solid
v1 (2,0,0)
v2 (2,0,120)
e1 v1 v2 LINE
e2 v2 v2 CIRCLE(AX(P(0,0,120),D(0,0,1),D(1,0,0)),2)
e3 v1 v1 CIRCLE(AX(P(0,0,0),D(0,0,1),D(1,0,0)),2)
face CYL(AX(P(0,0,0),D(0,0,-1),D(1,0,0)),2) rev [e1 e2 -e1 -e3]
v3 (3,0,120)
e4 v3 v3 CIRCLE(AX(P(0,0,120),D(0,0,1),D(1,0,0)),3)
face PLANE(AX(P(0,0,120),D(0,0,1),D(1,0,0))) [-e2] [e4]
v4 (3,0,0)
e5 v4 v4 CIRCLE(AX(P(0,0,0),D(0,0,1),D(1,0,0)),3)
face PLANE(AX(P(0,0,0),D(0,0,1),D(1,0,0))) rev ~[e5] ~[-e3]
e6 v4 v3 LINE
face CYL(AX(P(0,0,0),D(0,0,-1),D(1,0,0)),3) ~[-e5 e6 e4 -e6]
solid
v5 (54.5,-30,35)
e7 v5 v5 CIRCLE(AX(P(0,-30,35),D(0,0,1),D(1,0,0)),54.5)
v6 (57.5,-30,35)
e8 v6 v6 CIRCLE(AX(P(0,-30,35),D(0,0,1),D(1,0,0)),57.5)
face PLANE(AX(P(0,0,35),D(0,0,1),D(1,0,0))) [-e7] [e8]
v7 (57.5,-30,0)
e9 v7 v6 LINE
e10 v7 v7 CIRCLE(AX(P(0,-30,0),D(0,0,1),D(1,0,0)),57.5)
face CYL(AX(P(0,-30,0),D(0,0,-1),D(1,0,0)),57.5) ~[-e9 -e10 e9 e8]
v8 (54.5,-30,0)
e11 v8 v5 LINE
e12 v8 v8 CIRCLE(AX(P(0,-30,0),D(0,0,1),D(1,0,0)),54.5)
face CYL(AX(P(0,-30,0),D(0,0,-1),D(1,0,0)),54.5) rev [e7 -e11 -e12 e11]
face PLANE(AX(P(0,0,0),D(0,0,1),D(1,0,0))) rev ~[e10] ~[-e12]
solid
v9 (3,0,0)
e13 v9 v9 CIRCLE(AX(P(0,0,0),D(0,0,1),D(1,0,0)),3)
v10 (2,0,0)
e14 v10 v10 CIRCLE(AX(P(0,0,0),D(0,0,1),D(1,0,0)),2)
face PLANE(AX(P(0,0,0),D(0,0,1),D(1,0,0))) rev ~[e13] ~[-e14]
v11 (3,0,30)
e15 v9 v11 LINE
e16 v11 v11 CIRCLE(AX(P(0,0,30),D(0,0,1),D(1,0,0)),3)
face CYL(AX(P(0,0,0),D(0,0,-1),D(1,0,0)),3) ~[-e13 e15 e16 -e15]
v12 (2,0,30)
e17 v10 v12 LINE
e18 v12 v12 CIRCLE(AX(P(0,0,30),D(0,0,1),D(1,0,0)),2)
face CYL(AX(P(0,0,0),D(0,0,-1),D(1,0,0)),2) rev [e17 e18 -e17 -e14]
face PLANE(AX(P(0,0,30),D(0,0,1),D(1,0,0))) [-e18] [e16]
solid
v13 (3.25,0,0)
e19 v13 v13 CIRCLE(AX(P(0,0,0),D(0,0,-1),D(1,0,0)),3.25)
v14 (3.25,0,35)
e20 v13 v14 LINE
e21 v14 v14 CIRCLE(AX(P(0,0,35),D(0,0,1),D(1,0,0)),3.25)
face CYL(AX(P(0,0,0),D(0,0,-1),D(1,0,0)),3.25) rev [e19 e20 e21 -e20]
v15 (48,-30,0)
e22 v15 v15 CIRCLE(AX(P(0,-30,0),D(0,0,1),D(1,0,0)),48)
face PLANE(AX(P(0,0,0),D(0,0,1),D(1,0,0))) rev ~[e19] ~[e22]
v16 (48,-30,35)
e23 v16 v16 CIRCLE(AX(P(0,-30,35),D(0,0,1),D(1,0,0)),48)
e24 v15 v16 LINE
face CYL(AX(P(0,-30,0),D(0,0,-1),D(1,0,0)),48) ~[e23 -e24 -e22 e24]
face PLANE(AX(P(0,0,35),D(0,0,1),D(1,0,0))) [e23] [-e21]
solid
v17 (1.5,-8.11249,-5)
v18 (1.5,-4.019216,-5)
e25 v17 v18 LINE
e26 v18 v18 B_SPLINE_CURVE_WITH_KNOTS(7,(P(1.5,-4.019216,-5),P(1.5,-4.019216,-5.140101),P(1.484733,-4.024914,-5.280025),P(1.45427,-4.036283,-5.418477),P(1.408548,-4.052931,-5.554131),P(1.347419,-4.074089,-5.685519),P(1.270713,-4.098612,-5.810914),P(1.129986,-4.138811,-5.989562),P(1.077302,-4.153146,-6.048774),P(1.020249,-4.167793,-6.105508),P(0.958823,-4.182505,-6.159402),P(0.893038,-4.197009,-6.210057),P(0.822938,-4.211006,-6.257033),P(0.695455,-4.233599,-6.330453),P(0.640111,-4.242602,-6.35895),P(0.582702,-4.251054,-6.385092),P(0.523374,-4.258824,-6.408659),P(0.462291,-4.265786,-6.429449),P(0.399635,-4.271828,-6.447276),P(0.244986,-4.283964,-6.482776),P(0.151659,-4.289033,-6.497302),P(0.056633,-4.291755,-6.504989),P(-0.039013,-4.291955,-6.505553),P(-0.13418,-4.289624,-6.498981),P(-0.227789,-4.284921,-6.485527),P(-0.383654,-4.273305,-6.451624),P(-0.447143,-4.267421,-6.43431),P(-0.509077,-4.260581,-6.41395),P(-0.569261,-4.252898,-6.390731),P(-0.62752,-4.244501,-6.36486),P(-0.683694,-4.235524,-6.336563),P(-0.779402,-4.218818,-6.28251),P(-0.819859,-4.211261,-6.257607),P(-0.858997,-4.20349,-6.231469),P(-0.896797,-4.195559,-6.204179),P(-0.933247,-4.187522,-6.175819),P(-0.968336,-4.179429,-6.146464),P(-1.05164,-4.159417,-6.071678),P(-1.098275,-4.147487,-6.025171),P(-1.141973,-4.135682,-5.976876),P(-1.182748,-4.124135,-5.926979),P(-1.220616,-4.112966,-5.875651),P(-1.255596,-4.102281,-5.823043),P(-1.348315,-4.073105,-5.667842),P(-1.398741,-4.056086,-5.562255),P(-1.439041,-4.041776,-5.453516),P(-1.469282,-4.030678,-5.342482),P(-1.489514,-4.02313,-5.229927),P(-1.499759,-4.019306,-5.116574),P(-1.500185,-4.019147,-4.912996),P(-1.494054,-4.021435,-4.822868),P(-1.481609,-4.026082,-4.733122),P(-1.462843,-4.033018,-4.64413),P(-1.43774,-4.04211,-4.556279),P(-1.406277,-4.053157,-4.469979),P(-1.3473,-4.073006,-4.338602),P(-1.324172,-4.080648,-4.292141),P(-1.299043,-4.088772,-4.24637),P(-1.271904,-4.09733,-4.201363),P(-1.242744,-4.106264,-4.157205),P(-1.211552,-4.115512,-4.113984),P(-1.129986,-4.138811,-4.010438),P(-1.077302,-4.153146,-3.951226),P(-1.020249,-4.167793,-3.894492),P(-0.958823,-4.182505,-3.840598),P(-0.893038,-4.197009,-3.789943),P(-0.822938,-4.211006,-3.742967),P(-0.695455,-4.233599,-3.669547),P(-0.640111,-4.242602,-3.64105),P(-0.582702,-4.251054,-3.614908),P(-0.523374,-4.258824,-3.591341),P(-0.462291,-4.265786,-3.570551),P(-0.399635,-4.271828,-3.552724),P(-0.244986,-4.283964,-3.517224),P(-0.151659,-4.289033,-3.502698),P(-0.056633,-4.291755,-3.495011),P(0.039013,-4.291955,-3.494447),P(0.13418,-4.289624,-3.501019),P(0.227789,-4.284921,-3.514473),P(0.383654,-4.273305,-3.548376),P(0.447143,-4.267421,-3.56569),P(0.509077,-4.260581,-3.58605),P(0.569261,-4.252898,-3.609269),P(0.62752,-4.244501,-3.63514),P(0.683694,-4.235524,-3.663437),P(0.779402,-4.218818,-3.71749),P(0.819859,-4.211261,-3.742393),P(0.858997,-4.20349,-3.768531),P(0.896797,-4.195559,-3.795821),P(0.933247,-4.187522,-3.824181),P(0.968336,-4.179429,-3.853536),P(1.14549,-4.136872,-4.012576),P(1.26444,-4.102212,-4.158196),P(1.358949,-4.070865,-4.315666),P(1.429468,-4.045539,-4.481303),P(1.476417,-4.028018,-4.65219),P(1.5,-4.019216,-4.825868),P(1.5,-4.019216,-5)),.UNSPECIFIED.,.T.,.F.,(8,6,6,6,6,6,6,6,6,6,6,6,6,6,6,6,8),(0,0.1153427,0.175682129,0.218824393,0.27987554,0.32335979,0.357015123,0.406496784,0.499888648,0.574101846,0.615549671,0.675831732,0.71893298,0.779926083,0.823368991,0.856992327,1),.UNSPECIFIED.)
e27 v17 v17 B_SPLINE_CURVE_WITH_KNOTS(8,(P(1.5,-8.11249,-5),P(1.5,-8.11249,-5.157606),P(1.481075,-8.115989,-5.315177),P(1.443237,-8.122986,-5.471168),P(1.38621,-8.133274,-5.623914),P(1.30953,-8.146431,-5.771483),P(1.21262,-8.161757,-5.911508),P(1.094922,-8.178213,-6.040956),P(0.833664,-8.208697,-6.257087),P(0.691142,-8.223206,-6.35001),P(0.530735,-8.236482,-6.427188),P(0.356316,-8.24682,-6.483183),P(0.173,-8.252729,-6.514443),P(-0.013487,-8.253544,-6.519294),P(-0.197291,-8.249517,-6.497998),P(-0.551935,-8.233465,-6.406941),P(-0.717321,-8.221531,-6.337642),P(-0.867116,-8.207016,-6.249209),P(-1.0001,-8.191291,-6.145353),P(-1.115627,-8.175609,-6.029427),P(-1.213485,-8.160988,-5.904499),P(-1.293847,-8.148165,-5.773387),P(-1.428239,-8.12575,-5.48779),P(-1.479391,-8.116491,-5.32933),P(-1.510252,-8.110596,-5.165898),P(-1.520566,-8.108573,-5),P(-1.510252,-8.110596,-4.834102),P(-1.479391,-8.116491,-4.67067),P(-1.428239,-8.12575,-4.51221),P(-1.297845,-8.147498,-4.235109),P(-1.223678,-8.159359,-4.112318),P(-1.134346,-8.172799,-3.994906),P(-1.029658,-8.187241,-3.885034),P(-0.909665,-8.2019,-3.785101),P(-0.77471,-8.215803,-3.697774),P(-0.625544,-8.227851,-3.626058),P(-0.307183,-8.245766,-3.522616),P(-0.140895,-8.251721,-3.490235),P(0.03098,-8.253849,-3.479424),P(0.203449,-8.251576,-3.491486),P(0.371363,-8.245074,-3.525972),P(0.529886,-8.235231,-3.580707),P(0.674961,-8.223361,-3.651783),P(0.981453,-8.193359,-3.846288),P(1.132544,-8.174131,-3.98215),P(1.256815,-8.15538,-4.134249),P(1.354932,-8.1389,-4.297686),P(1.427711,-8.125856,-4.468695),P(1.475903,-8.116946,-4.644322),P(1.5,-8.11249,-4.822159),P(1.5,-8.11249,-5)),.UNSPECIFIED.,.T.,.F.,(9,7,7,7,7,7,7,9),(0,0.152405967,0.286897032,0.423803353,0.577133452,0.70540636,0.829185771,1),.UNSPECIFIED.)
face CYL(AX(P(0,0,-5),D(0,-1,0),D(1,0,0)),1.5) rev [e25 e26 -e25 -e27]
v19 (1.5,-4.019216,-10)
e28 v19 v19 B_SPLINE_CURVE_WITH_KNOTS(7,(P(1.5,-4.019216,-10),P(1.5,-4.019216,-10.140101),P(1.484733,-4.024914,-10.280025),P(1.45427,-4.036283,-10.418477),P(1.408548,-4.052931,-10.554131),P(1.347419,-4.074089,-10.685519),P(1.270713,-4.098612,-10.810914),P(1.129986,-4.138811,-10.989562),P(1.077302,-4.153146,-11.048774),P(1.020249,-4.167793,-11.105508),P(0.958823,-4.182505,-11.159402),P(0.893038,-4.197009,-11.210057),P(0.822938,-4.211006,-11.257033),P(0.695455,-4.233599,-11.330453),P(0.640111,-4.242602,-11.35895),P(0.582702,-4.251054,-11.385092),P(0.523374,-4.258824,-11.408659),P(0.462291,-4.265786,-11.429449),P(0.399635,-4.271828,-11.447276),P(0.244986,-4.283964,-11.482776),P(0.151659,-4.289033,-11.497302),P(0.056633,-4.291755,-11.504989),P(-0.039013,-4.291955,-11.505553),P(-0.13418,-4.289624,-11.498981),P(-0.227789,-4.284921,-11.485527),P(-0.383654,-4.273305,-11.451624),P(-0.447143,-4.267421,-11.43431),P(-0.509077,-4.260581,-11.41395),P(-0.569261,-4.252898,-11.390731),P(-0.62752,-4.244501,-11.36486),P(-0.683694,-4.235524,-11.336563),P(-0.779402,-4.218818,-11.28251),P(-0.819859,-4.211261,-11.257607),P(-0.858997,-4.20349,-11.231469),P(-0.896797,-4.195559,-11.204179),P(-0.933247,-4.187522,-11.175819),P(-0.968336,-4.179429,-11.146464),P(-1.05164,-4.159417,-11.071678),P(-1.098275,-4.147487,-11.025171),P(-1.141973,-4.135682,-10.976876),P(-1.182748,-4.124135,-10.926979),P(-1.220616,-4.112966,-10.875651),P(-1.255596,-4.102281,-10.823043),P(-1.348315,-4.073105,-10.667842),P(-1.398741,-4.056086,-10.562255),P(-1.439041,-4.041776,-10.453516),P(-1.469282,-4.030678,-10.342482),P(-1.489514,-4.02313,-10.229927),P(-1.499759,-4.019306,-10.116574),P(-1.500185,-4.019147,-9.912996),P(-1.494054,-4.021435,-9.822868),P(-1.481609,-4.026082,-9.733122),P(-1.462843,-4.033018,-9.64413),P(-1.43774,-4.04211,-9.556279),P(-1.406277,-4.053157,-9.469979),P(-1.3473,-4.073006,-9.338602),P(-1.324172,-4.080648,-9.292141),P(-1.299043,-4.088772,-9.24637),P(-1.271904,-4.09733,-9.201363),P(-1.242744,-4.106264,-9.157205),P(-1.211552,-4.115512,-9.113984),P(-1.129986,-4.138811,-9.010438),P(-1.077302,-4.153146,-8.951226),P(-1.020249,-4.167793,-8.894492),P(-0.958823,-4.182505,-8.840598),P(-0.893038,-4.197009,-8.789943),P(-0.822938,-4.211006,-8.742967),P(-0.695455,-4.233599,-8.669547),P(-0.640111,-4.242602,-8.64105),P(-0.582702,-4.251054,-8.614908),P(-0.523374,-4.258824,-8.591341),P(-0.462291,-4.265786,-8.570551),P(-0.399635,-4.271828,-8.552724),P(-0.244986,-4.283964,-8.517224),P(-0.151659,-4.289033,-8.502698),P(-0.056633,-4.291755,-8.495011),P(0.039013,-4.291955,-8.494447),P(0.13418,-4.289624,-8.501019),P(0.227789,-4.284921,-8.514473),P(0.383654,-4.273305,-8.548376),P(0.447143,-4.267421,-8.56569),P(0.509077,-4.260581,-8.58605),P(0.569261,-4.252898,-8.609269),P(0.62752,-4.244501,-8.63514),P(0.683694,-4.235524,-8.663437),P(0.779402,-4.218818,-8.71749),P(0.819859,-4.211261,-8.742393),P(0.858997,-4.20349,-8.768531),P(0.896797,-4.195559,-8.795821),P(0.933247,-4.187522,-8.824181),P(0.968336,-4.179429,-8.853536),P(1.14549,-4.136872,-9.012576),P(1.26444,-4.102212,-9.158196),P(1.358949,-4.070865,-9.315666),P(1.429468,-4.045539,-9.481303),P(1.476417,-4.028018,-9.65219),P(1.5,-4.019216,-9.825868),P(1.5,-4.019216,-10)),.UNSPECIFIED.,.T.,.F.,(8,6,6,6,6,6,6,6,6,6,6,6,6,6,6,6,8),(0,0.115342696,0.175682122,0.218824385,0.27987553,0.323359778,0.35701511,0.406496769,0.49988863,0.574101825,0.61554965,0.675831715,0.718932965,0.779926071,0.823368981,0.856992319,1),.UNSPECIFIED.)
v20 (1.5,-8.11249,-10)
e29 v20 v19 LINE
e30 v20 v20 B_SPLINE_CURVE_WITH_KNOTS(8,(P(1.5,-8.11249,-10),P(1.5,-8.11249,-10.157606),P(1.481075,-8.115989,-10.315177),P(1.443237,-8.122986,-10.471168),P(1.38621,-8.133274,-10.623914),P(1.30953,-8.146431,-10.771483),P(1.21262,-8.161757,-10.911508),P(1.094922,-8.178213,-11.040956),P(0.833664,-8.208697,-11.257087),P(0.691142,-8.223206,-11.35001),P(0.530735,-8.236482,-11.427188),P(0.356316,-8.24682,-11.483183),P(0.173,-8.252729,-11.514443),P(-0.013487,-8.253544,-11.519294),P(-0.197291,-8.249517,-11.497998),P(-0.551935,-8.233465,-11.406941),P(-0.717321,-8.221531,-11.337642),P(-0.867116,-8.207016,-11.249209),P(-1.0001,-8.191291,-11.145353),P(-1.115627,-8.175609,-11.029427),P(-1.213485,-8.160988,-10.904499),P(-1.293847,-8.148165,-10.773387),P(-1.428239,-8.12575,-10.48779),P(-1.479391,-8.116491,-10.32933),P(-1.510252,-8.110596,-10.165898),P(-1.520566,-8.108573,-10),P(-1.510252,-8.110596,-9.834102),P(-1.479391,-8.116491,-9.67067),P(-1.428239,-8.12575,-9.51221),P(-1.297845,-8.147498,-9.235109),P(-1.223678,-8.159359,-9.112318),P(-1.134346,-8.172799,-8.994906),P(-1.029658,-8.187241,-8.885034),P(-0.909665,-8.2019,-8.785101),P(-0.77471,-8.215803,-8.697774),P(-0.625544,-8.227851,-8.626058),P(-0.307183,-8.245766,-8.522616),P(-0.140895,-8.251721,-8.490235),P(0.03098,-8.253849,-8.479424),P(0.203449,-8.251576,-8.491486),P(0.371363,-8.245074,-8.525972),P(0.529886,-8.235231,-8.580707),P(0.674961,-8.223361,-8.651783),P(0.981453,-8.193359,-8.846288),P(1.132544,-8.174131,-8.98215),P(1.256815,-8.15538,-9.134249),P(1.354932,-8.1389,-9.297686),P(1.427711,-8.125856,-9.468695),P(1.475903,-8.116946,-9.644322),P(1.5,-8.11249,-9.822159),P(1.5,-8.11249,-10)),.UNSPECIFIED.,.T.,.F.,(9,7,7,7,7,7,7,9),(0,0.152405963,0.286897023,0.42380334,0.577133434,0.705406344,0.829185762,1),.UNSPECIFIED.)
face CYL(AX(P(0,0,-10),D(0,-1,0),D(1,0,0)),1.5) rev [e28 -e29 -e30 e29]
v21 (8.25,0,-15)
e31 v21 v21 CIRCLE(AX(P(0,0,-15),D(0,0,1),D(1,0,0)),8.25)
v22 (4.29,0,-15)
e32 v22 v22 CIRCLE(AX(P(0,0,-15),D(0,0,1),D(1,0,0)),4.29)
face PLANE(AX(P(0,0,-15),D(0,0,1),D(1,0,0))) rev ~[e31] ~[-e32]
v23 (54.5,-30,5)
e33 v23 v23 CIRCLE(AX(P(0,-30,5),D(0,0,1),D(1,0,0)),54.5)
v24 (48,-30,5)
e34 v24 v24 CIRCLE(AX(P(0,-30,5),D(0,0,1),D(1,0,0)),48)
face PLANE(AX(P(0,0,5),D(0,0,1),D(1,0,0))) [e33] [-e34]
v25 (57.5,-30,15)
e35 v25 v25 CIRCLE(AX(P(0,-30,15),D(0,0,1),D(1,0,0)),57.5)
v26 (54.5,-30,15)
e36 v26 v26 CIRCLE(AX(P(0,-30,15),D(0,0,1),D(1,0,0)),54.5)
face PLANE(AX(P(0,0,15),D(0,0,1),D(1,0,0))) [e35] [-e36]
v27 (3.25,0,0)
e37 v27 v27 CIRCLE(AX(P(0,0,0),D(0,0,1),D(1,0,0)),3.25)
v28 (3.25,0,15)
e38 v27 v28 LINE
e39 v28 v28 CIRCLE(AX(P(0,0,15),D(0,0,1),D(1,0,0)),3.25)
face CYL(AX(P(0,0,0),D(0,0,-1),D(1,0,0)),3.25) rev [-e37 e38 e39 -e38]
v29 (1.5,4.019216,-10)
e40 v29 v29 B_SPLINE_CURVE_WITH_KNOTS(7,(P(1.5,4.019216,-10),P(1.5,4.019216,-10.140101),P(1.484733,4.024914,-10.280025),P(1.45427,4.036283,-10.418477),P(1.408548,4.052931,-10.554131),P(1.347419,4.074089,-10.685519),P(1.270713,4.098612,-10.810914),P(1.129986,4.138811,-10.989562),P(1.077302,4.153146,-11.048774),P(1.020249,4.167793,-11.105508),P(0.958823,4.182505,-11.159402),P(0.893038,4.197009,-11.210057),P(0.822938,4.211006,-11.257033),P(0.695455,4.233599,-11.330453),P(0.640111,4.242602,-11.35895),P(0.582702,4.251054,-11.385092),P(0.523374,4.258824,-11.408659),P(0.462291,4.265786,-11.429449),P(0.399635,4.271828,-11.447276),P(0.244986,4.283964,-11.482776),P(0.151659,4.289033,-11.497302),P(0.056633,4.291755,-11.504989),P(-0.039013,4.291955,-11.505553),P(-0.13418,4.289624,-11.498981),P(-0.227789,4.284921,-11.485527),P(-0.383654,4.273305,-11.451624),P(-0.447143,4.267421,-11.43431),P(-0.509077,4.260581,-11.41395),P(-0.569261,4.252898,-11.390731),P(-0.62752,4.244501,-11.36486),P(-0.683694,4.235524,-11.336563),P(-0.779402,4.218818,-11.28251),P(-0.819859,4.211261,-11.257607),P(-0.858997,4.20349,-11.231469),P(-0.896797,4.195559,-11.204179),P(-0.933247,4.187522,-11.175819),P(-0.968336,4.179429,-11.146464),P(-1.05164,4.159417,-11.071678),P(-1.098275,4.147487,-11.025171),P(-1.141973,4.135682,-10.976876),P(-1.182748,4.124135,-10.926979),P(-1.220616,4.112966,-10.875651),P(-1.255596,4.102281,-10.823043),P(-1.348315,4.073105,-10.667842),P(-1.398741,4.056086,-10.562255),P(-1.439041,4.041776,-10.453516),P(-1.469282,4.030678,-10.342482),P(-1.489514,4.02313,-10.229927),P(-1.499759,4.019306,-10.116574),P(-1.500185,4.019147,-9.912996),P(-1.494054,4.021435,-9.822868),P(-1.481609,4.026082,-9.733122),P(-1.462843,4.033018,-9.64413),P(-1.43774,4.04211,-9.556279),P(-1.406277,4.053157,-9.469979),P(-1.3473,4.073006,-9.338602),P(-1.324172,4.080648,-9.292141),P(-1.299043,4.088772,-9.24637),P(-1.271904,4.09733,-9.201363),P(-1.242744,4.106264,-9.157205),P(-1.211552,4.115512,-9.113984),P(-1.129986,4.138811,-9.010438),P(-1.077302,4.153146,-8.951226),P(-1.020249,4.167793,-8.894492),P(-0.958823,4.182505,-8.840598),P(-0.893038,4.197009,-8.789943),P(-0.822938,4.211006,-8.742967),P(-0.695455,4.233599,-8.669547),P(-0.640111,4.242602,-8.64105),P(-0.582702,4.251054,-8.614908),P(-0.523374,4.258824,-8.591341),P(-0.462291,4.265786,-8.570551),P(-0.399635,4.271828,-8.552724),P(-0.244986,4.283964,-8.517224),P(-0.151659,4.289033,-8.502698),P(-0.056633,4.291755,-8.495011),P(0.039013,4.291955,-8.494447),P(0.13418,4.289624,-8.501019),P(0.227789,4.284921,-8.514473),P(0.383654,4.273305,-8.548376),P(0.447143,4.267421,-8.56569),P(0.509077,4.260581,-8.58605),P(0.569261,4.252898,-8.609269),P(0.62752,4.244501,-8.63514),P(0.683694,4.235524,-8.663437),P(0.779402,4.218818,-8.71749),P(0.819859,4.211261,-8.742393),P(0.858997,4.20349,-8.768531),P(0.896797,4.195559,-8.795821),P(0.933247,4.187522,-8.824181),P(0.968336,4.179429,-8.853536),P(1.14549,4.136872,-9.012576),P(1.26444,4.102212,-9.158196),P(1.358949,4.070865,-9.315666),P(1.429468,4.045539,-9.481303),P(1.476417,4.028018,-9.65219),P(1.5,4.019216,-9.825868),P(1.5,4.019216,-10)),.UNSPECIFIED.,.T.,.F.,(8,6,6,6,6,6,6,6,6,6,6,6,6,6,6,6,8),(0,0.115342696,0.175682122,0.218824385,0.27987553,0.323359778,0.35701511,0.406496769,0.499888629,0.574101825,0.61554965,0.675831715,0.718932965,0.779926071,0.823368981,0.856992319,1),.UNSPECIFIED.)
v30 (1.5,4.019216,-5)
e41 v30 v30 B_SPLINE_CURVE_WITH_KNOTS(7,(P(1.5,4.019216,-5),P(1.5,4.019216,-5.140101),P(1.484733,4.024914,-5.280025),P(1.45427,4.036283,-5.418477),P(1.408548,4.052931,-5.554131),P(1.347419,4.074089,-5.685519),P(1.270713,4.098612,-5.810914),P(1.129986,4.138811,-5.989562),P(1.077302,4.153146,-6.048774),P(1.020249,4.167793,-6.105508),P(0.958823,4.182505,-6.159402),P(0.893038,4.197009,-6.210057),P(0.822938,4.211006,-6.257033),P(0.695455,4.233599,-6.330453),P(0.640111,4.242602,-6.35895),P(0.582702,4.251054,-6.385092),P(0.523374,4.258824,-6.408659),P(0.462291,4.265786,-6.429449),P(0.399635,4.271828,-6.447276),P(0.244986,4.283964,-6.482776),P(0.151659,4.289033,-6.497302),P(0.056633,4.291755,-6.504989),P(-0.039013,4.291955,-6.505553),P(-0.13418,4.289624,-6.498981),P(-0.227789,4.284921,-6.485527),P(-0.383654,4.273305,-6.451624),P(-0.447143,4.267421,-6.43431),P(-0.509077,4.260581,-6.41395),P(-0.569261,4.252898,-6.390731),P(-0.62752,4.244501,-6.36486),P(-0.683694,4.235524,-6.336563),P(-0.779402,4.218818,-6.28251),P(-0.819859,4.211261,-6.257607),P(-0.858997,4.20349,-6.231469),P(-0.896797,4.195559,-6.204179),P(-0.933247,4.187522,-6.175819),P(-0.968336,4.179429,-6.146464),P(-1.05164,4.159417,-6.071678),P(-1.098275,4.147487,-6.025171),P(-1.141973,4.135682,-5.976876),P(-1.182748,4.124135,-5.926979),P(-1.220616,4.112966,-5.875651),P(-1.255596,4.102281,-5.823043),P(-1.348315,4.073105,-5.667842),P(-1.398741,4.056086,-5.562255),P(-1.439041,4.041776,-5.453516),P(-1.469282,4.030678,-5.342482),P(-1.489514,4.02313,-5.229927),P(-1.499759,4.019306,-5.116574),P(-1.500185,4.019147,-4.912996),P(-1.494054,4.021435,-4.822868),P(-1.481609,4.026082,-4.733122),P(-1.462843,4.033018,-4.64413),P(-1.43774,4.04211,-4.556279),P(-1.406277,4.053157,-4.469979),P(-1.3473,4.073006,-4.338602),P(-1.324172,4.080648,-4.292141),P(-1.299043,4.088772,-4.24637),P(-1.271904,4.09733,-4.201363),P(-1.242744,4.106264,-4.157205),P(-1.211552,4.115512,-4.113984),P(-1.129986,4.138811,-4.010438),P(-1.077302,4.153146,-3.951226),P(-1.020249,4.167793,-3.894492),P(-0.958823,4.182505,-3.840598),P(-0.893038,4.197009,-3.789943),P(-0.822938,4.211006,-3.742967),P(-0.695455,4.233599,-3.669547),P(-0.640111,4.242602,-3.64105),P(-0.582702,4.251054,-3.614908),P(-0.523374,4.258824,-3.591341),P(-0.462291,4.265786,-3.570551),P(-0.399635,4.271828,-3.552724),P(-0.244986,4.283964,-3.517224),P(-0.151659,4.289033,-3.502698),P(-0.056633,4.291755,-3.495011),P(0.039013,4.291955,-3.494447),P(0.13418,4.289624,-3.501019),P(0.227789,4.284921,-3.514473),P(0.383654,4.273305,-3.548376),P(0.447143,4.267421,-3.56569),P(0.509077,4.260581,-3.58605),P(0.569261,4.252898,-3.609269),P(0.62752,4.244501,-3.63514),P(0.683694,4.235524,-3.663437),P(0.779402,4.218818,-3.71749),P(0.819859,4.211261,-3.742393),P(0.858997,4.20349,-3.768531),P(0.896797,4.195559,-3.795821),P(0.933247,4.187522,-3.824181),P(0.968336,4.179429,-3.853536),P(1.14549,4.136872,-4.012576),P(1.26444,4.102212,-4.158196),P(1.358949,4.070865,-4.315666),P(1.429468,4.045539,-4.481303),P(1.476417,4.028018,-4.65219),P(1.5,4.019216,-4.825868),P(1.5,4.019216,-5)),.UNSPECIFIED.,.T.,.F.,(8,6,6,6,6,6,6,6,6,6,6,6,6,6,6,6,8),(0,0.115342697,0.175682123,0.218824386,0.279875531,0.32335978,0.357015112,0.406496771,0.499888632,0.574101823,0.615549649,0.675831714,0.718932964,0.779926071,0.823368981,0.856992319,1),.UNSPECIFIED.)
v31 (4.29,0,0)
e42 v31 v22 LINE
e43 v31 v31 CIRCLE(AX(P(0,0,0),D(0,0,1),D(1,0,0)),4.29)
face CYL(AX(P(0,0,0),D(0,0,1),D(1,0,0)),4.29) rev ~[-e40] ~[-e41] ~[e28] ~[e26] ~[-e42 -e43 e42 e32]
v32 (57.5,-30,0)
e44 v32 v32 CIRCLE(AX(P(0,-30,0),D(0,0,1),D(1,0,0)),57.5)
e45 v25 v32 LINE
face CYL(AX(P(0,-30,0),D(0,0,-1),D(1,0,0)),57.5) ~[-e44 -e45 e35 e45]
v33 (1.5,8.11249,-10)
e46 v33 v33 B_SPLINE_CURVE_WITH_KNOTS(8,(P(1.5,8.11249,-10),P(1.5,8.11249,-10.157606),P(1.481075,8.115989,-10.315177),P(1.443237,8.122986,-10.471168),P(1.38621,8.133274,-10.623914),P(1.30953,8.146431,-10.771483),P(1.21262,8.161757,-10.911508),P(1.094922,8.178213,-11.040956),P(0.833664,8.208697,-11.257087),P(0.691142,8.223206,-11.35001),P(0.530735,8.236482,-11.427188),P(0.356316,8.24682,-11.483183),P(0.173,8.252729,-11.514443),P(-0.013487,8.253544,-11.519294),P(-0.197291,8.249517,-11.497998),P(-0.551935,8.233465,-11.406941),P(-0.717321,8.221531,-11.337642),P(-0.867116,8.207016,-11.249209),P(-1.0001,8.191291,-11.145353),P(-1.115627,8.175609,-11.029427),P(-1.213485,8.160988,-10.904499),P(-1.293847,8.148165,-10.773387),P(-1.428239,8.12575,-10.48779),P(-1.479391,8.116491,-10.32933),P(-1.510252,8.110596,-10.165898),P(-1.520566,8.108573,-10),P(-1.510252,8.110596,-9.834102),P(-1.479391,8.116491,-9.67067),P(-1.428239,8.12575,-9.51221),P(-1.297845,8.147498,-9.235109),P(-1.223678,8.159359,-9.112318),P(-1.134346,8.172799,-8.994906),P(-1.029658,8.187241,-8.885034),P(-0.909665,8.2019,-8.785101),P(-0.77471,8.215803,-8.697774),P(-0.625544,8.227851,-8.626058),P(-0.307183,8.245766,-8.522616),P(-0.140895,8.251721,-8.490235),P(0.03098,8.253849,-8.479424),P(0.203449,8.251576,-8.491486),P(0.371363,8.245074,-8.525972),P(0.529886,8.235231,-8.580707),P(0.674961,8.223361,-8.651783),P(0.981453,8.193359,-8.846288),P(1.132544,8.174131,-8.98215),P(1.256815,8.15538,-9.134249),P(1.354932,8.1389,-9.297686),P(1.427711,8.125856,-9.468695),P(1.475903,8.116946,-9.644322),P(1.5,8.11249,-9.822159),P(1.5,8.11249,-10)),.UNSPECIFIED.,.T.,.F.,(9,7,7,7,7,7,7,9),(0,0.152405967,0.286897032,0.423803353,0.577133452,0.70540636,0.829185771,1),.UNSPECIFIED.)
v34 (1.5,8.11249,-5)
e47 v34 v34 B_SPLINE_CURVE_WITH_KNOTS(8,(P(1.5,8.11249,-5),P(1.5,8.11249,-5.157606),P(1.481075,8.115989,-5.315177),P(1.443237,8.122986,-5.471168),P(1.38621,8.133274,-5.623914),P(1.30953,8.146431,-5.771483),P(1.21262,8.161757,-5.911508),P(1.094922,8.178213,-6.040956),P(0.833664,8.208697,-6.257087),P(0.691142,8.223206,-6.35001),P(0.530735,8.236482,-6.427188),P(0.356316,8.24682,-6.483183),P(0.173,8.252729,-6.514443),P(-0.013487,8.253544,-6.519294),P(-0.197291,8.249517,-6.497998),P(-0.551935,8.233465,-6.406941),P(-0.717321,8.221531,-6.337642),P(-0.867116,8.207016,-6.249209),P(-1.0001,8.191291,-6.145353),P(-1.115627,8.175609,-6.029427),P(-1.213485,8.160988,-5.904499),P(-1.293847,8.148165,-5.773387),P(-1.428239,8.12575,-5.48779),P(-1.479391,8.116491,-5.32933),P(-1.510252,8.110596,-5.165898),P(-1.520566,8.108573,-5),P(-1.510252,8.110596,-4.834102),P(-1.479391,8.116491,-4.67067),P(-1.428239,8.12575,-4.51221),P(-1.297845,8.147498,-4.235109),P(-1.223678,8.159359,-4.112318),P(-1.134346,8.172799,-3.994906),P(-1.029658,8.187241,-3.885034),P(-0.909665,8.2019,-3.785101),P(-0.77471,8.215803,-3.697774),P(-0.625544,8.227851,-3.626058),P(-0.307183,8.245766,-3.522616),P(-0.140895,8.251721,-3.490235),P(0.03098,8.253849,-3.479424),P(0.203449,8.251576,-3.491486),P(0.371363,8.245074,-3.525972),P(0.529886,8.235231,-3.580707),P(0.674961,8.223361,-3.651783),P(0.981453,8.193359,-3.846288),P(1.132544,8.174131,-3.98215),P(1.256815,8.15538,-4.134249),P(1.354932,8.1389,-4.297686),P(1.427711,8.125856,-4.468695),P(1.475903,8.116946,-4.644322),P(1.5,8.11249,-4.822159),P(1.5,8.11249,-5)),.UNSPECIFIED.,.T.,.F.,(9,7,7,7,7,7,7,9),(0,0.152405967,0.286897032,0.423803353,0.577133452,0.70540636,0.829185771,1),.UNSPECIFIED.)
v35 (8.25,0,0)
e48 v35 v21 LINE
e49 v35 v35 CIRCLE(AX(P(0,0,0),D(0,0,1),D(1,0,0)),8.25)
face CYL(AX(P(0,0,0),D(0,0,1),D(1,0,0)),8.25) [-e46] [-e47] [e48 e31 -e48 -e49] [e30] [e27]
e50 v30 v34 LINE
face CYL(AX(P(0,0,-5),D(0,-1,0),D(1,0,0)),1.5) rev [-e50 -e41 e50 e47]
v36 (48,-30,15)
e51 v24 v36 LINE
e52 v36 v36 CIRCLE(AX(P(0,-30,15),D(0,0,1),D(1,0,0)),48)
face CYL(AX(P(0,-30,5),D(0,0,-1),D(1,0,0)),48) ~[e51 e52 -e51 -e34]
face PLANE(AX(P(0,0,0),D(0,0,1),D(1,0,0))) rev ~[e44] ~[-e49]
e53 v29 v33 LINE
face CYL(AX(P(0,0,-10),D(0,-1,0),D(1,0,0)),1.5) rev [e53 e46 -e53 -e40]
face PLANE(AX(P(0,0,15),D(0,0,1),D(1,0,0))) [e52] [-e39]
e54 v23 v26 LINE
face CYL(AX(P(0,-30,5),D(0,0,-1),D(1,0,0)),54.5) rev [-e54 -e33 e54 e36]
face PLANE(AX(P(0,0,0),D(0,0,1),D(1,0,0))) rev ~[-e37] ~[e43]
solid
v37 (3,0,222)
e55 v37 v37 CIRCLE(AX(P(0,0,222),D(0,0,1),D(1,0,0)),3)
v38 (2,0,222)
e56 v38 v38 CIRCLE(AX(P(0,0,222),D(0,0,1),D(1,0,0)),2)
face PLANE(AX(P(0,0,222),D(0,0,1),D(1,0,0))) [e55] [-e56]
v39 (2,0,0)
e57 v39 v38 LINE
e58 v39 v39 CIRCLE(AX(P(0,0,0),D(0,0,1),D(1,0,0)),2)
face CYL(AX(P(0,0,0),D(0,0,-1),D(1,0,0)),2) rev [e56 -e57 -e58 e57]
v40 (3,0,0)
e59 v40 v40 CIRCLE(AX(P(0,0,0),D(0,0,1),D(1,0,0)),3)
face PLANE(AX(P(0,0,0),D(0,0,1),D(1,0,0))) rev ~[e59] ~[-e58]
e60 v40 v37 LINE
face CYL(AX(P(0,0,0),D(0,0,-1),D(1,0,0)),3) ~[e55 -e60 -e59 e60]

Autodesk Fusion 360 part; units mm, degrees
sketch "Aluminum 4mm-6mm" plane through (0, 0, 0) normal (0, 0, 1) x (1, 0, 0)
  circle A0 centre (0, 0) radius 2
  circle A1 centre (0, 0) radius 3
  dimension "d1" = 4
  dimension "d2" = 6
extrude "Extrude1" add sketch "Aluminum 4mm-6mm" along normal blind 190 makes body 1
copy_body "Body->Comp1" bodies 1 removing the originals makes body 2 in component "190mm aluminum 4-6 bar"
extrude "Extrude2" add sketch "Aluminum 4mm-6mm" along normal blind 250 separate body makes body 3
copy_body "Body->Comp2" bodies 3 removing the originals makes body 4 in component "250mm aluminum 4-6 bar"
extrude "Extrude3" add sketch "Aluminum 4mm-6mm" along normal blind 120 separate body makes body 5
copy_body "Body->Comp3" bodies 5 removing the originals makes body 6 in component "120mm aluminum 4-6 bar"
extrude "Extrude4" add sketch "Aluminum 4mm-6mm" along normal blind 222 separate body makes body 7
copy_body "Body->Comp4" bodies 7 removing the originals makes body 8 in component "220mm aluminum 4-6 bar"
extrude "Extrude5" add sketch "Aluminum 4mm-6mm" along normal blind 30 separate body makes body 9
copy_body "Body->Comp5" bodies 9 removing the originals makes body 10 in component "30mm aluminum 4-6 bar"
component "190mm aluminum 4-6 bar" placed x (1, 0, 0) y (0, 1, 0) z (0, 0, 1) at (0, 0, 0)
component "250mm aluminum 4-6 bar" placed x (1, 0, 0) y (0, 1, 0) z (0, 0, 1) at (0, 0, 0)
component "120mm aluminum 4-6 bar" placed x (1, 0, 0) y (0, 1, 0) z (0, 0, 1) at (0, 0, 0)
component "220mm aluminum 4-6 bar" placed x (1, 0, 0) y (0, 1, 0) z (0, 0, 1) at (0, 0, 0)
component "30mm aluminum 4-6 bar" placed x (1, 0, 0) y (0, 1, 0) z (0, 0, 1) at (0, 0, 0)
equation "d13 = 180 mm + ( ( 5 + 5 + 3 + 8 ) * 2 ) * 1 mm"

Autodesk Fusion 360 part; units mm, degrees
sketch "Sketch1" plane through (0, 0, 0) normal (0, 0, 1) x (1, 0, 0)
  line L0 (90, -40) -> (-90, -40)
  line L1 (-90, -40) -> (-90, 40)
  line L2 (-90, 40) -> (90, 40)
  line L3 (90, 40) -> (90, -40)
  line L4 (90, -40) -> (-90, 40) construction
  line L5 (-90, -40) -> (90, 40) construction
  line L6 (-85, -35) -> (85, 35) construction
  line L7 (85, -35) -> (-85, 35) construction
  circle A0 centre (-85, 35) radius 1.5
  circle A1 centre (-85, -35) radius 1.5
  circle A2 centre (85, 35) radius 1.5
  circle A3 centre (85, -35) radius 1.5
  dimension "d1" = 180
  dimension "d2" = 80
  dimension "d3" = 170
  dimension "d4" = 70
  dimension "d5" = 3
  dimension "d6" = 3
  dimension "d7" = 3
  dimension "d8" = 3
extrude "Extrude1" add sketch "Sketch1" along normal blind 5 makes body 1
copy_body "Body->Comp1" bodies 1 removing the originals makes body 2 in component "Simple flat bucket"
component "Simple flat bucket" placed x (1, 0, 0) y (0, 1, 0) z (0, 0, 1) at (0, 0, 0)

Autodesk Fusion 360 part; units mm, degrees
sketch "Sketch1" plane through (0, 0, 0) normal (0, 0, 1) x (1, 0, 0)
  circle A0 centre (0, 0) radius 6
  circle A1 centre (0, 0) radius 3
  dimension "d1" = 12
  dimension "d2" = 6
extrude "Extrude1" add sketch "Sketch1" along normal blind 35 makes body 1
sketch "Sketch2" plane through (0, 0, 35) normal (0, 0, 1) x (-1, 0, 0)
  circle A0 centre (0, 0) radius 5.75
  circle A1 centre (0, 0) radius 6
  dimension "d5" = 11.5
  dimension "d6" = 12
extrude "Extrude2" add sketch "Sketch2" against normal blind 1.1 from surface at -4 separate body makes body 2
ref_plane "WorkPlane1" through (0, 0, 17.5) normal (0, 0, -1) x (-1, 0, 0)
mirror "Mirror1" about plane through (0, 0, 17.5) normal (0, 0, -1) of bodies 2 makes body 3
combine "Combine1" operation cut target body 1 tool bodies 2 3
copy_body "Body->Comp1" bodies 1 removing the originals makes body 4 in component "LM6L"
component "LM6L" placed x (1, 0, 0) y (0, 1, 0) z (0, 0, 1) at (0, 0, 0)
equation "d7 = ( -( 35 - 27 ) / 2 ) * 1 mm"

Autodesk Fusion 360 part; units mm, degrees
sketch "Sketch1" plane through (0, 0, 0) normal (0, 0, 1) x (1, 0, 0)
  line L0 (0, 0) -> (0, -30)
  circle A0 centre (0, -30) radius 54.5
  circle A1 centre (0, -30) radius 48
  circle A2 centre (0, 0) radius 3.25
  circle A3 centre (0, -30) radius 57.5
  dimension "d1" = 30
  dimension "d2" = 109
  dimension "d3" = 96
  dimension "d4" = 6.5
  dimension "d5" = 115
extrude "Extrude1" add sketch "Sketch1" along normal blind 5 contours A0 | A1 | A3 makes body 1
extrude "Extrude2" add sketch "Sketch1" along normal blind 10 from surface at 5 bodies 1
sketch "Sketch2" plane through (0, 0, 0) normal (0, 0, 1) x (1, 0, 0)
  circle A0 centre (0, 0) radius 8.25
  circle A1 centre (0, 0) radius 4.29
  dimension "d11" = 16.5
extrude "Extrude3" add sketch "Sketch2" against normal blind 15 bodies 1
sketch "Sketch4" plane through (0, 0, 0) normal (0, 1, 0) x (1, 0, 0)
  line L0 (-4.29, 15) -> (4.29, 15)
  line L1 (0, 0) -> (0, 15)
  line L2 (-8.25, 0) -> (8.25, 0)
  line L3 (0, 0) -> (0, 5)
  line L4 (0, 15) -> (0, 14)
  line L5 (0, 15) -> (0, 10)
  circle A0 centre (0, 5) radius 1.5
  circle A1 centre (0, 10) radius 1.5
  dimension "d14" = 5
  dimension "d15" = 5
  dimension "d16" = 3
  dimension "d17" = 3
extrude "Extrude4" cut sketch "Sketch4" along normal mid plane 20 bodies 1
copy_body "Body->Comp1" bodies 1 removing the originals makes body 2 in component "Simple Cam, 30mm "
component "Simple Cam, 30mm " placed x (1, 0, 0) y (0, 1, 0) z (0, 0, 1) at (0, 0, 0)
equation "d1 = ( 102.5 / 2 ) * 1 mm - 21.25 mm"
equation "d2 = 102.5 mm + 6.5 mm"
equation "d3 = 102.5 mm - 6.5 mm"
equation "d5 = 102.5 mm + 6.5 mm + ( 3 * 2 ) * 1 mm"
equation "d11 = 6.5 mm + ( 5 * 2 ) * 1 mm"
